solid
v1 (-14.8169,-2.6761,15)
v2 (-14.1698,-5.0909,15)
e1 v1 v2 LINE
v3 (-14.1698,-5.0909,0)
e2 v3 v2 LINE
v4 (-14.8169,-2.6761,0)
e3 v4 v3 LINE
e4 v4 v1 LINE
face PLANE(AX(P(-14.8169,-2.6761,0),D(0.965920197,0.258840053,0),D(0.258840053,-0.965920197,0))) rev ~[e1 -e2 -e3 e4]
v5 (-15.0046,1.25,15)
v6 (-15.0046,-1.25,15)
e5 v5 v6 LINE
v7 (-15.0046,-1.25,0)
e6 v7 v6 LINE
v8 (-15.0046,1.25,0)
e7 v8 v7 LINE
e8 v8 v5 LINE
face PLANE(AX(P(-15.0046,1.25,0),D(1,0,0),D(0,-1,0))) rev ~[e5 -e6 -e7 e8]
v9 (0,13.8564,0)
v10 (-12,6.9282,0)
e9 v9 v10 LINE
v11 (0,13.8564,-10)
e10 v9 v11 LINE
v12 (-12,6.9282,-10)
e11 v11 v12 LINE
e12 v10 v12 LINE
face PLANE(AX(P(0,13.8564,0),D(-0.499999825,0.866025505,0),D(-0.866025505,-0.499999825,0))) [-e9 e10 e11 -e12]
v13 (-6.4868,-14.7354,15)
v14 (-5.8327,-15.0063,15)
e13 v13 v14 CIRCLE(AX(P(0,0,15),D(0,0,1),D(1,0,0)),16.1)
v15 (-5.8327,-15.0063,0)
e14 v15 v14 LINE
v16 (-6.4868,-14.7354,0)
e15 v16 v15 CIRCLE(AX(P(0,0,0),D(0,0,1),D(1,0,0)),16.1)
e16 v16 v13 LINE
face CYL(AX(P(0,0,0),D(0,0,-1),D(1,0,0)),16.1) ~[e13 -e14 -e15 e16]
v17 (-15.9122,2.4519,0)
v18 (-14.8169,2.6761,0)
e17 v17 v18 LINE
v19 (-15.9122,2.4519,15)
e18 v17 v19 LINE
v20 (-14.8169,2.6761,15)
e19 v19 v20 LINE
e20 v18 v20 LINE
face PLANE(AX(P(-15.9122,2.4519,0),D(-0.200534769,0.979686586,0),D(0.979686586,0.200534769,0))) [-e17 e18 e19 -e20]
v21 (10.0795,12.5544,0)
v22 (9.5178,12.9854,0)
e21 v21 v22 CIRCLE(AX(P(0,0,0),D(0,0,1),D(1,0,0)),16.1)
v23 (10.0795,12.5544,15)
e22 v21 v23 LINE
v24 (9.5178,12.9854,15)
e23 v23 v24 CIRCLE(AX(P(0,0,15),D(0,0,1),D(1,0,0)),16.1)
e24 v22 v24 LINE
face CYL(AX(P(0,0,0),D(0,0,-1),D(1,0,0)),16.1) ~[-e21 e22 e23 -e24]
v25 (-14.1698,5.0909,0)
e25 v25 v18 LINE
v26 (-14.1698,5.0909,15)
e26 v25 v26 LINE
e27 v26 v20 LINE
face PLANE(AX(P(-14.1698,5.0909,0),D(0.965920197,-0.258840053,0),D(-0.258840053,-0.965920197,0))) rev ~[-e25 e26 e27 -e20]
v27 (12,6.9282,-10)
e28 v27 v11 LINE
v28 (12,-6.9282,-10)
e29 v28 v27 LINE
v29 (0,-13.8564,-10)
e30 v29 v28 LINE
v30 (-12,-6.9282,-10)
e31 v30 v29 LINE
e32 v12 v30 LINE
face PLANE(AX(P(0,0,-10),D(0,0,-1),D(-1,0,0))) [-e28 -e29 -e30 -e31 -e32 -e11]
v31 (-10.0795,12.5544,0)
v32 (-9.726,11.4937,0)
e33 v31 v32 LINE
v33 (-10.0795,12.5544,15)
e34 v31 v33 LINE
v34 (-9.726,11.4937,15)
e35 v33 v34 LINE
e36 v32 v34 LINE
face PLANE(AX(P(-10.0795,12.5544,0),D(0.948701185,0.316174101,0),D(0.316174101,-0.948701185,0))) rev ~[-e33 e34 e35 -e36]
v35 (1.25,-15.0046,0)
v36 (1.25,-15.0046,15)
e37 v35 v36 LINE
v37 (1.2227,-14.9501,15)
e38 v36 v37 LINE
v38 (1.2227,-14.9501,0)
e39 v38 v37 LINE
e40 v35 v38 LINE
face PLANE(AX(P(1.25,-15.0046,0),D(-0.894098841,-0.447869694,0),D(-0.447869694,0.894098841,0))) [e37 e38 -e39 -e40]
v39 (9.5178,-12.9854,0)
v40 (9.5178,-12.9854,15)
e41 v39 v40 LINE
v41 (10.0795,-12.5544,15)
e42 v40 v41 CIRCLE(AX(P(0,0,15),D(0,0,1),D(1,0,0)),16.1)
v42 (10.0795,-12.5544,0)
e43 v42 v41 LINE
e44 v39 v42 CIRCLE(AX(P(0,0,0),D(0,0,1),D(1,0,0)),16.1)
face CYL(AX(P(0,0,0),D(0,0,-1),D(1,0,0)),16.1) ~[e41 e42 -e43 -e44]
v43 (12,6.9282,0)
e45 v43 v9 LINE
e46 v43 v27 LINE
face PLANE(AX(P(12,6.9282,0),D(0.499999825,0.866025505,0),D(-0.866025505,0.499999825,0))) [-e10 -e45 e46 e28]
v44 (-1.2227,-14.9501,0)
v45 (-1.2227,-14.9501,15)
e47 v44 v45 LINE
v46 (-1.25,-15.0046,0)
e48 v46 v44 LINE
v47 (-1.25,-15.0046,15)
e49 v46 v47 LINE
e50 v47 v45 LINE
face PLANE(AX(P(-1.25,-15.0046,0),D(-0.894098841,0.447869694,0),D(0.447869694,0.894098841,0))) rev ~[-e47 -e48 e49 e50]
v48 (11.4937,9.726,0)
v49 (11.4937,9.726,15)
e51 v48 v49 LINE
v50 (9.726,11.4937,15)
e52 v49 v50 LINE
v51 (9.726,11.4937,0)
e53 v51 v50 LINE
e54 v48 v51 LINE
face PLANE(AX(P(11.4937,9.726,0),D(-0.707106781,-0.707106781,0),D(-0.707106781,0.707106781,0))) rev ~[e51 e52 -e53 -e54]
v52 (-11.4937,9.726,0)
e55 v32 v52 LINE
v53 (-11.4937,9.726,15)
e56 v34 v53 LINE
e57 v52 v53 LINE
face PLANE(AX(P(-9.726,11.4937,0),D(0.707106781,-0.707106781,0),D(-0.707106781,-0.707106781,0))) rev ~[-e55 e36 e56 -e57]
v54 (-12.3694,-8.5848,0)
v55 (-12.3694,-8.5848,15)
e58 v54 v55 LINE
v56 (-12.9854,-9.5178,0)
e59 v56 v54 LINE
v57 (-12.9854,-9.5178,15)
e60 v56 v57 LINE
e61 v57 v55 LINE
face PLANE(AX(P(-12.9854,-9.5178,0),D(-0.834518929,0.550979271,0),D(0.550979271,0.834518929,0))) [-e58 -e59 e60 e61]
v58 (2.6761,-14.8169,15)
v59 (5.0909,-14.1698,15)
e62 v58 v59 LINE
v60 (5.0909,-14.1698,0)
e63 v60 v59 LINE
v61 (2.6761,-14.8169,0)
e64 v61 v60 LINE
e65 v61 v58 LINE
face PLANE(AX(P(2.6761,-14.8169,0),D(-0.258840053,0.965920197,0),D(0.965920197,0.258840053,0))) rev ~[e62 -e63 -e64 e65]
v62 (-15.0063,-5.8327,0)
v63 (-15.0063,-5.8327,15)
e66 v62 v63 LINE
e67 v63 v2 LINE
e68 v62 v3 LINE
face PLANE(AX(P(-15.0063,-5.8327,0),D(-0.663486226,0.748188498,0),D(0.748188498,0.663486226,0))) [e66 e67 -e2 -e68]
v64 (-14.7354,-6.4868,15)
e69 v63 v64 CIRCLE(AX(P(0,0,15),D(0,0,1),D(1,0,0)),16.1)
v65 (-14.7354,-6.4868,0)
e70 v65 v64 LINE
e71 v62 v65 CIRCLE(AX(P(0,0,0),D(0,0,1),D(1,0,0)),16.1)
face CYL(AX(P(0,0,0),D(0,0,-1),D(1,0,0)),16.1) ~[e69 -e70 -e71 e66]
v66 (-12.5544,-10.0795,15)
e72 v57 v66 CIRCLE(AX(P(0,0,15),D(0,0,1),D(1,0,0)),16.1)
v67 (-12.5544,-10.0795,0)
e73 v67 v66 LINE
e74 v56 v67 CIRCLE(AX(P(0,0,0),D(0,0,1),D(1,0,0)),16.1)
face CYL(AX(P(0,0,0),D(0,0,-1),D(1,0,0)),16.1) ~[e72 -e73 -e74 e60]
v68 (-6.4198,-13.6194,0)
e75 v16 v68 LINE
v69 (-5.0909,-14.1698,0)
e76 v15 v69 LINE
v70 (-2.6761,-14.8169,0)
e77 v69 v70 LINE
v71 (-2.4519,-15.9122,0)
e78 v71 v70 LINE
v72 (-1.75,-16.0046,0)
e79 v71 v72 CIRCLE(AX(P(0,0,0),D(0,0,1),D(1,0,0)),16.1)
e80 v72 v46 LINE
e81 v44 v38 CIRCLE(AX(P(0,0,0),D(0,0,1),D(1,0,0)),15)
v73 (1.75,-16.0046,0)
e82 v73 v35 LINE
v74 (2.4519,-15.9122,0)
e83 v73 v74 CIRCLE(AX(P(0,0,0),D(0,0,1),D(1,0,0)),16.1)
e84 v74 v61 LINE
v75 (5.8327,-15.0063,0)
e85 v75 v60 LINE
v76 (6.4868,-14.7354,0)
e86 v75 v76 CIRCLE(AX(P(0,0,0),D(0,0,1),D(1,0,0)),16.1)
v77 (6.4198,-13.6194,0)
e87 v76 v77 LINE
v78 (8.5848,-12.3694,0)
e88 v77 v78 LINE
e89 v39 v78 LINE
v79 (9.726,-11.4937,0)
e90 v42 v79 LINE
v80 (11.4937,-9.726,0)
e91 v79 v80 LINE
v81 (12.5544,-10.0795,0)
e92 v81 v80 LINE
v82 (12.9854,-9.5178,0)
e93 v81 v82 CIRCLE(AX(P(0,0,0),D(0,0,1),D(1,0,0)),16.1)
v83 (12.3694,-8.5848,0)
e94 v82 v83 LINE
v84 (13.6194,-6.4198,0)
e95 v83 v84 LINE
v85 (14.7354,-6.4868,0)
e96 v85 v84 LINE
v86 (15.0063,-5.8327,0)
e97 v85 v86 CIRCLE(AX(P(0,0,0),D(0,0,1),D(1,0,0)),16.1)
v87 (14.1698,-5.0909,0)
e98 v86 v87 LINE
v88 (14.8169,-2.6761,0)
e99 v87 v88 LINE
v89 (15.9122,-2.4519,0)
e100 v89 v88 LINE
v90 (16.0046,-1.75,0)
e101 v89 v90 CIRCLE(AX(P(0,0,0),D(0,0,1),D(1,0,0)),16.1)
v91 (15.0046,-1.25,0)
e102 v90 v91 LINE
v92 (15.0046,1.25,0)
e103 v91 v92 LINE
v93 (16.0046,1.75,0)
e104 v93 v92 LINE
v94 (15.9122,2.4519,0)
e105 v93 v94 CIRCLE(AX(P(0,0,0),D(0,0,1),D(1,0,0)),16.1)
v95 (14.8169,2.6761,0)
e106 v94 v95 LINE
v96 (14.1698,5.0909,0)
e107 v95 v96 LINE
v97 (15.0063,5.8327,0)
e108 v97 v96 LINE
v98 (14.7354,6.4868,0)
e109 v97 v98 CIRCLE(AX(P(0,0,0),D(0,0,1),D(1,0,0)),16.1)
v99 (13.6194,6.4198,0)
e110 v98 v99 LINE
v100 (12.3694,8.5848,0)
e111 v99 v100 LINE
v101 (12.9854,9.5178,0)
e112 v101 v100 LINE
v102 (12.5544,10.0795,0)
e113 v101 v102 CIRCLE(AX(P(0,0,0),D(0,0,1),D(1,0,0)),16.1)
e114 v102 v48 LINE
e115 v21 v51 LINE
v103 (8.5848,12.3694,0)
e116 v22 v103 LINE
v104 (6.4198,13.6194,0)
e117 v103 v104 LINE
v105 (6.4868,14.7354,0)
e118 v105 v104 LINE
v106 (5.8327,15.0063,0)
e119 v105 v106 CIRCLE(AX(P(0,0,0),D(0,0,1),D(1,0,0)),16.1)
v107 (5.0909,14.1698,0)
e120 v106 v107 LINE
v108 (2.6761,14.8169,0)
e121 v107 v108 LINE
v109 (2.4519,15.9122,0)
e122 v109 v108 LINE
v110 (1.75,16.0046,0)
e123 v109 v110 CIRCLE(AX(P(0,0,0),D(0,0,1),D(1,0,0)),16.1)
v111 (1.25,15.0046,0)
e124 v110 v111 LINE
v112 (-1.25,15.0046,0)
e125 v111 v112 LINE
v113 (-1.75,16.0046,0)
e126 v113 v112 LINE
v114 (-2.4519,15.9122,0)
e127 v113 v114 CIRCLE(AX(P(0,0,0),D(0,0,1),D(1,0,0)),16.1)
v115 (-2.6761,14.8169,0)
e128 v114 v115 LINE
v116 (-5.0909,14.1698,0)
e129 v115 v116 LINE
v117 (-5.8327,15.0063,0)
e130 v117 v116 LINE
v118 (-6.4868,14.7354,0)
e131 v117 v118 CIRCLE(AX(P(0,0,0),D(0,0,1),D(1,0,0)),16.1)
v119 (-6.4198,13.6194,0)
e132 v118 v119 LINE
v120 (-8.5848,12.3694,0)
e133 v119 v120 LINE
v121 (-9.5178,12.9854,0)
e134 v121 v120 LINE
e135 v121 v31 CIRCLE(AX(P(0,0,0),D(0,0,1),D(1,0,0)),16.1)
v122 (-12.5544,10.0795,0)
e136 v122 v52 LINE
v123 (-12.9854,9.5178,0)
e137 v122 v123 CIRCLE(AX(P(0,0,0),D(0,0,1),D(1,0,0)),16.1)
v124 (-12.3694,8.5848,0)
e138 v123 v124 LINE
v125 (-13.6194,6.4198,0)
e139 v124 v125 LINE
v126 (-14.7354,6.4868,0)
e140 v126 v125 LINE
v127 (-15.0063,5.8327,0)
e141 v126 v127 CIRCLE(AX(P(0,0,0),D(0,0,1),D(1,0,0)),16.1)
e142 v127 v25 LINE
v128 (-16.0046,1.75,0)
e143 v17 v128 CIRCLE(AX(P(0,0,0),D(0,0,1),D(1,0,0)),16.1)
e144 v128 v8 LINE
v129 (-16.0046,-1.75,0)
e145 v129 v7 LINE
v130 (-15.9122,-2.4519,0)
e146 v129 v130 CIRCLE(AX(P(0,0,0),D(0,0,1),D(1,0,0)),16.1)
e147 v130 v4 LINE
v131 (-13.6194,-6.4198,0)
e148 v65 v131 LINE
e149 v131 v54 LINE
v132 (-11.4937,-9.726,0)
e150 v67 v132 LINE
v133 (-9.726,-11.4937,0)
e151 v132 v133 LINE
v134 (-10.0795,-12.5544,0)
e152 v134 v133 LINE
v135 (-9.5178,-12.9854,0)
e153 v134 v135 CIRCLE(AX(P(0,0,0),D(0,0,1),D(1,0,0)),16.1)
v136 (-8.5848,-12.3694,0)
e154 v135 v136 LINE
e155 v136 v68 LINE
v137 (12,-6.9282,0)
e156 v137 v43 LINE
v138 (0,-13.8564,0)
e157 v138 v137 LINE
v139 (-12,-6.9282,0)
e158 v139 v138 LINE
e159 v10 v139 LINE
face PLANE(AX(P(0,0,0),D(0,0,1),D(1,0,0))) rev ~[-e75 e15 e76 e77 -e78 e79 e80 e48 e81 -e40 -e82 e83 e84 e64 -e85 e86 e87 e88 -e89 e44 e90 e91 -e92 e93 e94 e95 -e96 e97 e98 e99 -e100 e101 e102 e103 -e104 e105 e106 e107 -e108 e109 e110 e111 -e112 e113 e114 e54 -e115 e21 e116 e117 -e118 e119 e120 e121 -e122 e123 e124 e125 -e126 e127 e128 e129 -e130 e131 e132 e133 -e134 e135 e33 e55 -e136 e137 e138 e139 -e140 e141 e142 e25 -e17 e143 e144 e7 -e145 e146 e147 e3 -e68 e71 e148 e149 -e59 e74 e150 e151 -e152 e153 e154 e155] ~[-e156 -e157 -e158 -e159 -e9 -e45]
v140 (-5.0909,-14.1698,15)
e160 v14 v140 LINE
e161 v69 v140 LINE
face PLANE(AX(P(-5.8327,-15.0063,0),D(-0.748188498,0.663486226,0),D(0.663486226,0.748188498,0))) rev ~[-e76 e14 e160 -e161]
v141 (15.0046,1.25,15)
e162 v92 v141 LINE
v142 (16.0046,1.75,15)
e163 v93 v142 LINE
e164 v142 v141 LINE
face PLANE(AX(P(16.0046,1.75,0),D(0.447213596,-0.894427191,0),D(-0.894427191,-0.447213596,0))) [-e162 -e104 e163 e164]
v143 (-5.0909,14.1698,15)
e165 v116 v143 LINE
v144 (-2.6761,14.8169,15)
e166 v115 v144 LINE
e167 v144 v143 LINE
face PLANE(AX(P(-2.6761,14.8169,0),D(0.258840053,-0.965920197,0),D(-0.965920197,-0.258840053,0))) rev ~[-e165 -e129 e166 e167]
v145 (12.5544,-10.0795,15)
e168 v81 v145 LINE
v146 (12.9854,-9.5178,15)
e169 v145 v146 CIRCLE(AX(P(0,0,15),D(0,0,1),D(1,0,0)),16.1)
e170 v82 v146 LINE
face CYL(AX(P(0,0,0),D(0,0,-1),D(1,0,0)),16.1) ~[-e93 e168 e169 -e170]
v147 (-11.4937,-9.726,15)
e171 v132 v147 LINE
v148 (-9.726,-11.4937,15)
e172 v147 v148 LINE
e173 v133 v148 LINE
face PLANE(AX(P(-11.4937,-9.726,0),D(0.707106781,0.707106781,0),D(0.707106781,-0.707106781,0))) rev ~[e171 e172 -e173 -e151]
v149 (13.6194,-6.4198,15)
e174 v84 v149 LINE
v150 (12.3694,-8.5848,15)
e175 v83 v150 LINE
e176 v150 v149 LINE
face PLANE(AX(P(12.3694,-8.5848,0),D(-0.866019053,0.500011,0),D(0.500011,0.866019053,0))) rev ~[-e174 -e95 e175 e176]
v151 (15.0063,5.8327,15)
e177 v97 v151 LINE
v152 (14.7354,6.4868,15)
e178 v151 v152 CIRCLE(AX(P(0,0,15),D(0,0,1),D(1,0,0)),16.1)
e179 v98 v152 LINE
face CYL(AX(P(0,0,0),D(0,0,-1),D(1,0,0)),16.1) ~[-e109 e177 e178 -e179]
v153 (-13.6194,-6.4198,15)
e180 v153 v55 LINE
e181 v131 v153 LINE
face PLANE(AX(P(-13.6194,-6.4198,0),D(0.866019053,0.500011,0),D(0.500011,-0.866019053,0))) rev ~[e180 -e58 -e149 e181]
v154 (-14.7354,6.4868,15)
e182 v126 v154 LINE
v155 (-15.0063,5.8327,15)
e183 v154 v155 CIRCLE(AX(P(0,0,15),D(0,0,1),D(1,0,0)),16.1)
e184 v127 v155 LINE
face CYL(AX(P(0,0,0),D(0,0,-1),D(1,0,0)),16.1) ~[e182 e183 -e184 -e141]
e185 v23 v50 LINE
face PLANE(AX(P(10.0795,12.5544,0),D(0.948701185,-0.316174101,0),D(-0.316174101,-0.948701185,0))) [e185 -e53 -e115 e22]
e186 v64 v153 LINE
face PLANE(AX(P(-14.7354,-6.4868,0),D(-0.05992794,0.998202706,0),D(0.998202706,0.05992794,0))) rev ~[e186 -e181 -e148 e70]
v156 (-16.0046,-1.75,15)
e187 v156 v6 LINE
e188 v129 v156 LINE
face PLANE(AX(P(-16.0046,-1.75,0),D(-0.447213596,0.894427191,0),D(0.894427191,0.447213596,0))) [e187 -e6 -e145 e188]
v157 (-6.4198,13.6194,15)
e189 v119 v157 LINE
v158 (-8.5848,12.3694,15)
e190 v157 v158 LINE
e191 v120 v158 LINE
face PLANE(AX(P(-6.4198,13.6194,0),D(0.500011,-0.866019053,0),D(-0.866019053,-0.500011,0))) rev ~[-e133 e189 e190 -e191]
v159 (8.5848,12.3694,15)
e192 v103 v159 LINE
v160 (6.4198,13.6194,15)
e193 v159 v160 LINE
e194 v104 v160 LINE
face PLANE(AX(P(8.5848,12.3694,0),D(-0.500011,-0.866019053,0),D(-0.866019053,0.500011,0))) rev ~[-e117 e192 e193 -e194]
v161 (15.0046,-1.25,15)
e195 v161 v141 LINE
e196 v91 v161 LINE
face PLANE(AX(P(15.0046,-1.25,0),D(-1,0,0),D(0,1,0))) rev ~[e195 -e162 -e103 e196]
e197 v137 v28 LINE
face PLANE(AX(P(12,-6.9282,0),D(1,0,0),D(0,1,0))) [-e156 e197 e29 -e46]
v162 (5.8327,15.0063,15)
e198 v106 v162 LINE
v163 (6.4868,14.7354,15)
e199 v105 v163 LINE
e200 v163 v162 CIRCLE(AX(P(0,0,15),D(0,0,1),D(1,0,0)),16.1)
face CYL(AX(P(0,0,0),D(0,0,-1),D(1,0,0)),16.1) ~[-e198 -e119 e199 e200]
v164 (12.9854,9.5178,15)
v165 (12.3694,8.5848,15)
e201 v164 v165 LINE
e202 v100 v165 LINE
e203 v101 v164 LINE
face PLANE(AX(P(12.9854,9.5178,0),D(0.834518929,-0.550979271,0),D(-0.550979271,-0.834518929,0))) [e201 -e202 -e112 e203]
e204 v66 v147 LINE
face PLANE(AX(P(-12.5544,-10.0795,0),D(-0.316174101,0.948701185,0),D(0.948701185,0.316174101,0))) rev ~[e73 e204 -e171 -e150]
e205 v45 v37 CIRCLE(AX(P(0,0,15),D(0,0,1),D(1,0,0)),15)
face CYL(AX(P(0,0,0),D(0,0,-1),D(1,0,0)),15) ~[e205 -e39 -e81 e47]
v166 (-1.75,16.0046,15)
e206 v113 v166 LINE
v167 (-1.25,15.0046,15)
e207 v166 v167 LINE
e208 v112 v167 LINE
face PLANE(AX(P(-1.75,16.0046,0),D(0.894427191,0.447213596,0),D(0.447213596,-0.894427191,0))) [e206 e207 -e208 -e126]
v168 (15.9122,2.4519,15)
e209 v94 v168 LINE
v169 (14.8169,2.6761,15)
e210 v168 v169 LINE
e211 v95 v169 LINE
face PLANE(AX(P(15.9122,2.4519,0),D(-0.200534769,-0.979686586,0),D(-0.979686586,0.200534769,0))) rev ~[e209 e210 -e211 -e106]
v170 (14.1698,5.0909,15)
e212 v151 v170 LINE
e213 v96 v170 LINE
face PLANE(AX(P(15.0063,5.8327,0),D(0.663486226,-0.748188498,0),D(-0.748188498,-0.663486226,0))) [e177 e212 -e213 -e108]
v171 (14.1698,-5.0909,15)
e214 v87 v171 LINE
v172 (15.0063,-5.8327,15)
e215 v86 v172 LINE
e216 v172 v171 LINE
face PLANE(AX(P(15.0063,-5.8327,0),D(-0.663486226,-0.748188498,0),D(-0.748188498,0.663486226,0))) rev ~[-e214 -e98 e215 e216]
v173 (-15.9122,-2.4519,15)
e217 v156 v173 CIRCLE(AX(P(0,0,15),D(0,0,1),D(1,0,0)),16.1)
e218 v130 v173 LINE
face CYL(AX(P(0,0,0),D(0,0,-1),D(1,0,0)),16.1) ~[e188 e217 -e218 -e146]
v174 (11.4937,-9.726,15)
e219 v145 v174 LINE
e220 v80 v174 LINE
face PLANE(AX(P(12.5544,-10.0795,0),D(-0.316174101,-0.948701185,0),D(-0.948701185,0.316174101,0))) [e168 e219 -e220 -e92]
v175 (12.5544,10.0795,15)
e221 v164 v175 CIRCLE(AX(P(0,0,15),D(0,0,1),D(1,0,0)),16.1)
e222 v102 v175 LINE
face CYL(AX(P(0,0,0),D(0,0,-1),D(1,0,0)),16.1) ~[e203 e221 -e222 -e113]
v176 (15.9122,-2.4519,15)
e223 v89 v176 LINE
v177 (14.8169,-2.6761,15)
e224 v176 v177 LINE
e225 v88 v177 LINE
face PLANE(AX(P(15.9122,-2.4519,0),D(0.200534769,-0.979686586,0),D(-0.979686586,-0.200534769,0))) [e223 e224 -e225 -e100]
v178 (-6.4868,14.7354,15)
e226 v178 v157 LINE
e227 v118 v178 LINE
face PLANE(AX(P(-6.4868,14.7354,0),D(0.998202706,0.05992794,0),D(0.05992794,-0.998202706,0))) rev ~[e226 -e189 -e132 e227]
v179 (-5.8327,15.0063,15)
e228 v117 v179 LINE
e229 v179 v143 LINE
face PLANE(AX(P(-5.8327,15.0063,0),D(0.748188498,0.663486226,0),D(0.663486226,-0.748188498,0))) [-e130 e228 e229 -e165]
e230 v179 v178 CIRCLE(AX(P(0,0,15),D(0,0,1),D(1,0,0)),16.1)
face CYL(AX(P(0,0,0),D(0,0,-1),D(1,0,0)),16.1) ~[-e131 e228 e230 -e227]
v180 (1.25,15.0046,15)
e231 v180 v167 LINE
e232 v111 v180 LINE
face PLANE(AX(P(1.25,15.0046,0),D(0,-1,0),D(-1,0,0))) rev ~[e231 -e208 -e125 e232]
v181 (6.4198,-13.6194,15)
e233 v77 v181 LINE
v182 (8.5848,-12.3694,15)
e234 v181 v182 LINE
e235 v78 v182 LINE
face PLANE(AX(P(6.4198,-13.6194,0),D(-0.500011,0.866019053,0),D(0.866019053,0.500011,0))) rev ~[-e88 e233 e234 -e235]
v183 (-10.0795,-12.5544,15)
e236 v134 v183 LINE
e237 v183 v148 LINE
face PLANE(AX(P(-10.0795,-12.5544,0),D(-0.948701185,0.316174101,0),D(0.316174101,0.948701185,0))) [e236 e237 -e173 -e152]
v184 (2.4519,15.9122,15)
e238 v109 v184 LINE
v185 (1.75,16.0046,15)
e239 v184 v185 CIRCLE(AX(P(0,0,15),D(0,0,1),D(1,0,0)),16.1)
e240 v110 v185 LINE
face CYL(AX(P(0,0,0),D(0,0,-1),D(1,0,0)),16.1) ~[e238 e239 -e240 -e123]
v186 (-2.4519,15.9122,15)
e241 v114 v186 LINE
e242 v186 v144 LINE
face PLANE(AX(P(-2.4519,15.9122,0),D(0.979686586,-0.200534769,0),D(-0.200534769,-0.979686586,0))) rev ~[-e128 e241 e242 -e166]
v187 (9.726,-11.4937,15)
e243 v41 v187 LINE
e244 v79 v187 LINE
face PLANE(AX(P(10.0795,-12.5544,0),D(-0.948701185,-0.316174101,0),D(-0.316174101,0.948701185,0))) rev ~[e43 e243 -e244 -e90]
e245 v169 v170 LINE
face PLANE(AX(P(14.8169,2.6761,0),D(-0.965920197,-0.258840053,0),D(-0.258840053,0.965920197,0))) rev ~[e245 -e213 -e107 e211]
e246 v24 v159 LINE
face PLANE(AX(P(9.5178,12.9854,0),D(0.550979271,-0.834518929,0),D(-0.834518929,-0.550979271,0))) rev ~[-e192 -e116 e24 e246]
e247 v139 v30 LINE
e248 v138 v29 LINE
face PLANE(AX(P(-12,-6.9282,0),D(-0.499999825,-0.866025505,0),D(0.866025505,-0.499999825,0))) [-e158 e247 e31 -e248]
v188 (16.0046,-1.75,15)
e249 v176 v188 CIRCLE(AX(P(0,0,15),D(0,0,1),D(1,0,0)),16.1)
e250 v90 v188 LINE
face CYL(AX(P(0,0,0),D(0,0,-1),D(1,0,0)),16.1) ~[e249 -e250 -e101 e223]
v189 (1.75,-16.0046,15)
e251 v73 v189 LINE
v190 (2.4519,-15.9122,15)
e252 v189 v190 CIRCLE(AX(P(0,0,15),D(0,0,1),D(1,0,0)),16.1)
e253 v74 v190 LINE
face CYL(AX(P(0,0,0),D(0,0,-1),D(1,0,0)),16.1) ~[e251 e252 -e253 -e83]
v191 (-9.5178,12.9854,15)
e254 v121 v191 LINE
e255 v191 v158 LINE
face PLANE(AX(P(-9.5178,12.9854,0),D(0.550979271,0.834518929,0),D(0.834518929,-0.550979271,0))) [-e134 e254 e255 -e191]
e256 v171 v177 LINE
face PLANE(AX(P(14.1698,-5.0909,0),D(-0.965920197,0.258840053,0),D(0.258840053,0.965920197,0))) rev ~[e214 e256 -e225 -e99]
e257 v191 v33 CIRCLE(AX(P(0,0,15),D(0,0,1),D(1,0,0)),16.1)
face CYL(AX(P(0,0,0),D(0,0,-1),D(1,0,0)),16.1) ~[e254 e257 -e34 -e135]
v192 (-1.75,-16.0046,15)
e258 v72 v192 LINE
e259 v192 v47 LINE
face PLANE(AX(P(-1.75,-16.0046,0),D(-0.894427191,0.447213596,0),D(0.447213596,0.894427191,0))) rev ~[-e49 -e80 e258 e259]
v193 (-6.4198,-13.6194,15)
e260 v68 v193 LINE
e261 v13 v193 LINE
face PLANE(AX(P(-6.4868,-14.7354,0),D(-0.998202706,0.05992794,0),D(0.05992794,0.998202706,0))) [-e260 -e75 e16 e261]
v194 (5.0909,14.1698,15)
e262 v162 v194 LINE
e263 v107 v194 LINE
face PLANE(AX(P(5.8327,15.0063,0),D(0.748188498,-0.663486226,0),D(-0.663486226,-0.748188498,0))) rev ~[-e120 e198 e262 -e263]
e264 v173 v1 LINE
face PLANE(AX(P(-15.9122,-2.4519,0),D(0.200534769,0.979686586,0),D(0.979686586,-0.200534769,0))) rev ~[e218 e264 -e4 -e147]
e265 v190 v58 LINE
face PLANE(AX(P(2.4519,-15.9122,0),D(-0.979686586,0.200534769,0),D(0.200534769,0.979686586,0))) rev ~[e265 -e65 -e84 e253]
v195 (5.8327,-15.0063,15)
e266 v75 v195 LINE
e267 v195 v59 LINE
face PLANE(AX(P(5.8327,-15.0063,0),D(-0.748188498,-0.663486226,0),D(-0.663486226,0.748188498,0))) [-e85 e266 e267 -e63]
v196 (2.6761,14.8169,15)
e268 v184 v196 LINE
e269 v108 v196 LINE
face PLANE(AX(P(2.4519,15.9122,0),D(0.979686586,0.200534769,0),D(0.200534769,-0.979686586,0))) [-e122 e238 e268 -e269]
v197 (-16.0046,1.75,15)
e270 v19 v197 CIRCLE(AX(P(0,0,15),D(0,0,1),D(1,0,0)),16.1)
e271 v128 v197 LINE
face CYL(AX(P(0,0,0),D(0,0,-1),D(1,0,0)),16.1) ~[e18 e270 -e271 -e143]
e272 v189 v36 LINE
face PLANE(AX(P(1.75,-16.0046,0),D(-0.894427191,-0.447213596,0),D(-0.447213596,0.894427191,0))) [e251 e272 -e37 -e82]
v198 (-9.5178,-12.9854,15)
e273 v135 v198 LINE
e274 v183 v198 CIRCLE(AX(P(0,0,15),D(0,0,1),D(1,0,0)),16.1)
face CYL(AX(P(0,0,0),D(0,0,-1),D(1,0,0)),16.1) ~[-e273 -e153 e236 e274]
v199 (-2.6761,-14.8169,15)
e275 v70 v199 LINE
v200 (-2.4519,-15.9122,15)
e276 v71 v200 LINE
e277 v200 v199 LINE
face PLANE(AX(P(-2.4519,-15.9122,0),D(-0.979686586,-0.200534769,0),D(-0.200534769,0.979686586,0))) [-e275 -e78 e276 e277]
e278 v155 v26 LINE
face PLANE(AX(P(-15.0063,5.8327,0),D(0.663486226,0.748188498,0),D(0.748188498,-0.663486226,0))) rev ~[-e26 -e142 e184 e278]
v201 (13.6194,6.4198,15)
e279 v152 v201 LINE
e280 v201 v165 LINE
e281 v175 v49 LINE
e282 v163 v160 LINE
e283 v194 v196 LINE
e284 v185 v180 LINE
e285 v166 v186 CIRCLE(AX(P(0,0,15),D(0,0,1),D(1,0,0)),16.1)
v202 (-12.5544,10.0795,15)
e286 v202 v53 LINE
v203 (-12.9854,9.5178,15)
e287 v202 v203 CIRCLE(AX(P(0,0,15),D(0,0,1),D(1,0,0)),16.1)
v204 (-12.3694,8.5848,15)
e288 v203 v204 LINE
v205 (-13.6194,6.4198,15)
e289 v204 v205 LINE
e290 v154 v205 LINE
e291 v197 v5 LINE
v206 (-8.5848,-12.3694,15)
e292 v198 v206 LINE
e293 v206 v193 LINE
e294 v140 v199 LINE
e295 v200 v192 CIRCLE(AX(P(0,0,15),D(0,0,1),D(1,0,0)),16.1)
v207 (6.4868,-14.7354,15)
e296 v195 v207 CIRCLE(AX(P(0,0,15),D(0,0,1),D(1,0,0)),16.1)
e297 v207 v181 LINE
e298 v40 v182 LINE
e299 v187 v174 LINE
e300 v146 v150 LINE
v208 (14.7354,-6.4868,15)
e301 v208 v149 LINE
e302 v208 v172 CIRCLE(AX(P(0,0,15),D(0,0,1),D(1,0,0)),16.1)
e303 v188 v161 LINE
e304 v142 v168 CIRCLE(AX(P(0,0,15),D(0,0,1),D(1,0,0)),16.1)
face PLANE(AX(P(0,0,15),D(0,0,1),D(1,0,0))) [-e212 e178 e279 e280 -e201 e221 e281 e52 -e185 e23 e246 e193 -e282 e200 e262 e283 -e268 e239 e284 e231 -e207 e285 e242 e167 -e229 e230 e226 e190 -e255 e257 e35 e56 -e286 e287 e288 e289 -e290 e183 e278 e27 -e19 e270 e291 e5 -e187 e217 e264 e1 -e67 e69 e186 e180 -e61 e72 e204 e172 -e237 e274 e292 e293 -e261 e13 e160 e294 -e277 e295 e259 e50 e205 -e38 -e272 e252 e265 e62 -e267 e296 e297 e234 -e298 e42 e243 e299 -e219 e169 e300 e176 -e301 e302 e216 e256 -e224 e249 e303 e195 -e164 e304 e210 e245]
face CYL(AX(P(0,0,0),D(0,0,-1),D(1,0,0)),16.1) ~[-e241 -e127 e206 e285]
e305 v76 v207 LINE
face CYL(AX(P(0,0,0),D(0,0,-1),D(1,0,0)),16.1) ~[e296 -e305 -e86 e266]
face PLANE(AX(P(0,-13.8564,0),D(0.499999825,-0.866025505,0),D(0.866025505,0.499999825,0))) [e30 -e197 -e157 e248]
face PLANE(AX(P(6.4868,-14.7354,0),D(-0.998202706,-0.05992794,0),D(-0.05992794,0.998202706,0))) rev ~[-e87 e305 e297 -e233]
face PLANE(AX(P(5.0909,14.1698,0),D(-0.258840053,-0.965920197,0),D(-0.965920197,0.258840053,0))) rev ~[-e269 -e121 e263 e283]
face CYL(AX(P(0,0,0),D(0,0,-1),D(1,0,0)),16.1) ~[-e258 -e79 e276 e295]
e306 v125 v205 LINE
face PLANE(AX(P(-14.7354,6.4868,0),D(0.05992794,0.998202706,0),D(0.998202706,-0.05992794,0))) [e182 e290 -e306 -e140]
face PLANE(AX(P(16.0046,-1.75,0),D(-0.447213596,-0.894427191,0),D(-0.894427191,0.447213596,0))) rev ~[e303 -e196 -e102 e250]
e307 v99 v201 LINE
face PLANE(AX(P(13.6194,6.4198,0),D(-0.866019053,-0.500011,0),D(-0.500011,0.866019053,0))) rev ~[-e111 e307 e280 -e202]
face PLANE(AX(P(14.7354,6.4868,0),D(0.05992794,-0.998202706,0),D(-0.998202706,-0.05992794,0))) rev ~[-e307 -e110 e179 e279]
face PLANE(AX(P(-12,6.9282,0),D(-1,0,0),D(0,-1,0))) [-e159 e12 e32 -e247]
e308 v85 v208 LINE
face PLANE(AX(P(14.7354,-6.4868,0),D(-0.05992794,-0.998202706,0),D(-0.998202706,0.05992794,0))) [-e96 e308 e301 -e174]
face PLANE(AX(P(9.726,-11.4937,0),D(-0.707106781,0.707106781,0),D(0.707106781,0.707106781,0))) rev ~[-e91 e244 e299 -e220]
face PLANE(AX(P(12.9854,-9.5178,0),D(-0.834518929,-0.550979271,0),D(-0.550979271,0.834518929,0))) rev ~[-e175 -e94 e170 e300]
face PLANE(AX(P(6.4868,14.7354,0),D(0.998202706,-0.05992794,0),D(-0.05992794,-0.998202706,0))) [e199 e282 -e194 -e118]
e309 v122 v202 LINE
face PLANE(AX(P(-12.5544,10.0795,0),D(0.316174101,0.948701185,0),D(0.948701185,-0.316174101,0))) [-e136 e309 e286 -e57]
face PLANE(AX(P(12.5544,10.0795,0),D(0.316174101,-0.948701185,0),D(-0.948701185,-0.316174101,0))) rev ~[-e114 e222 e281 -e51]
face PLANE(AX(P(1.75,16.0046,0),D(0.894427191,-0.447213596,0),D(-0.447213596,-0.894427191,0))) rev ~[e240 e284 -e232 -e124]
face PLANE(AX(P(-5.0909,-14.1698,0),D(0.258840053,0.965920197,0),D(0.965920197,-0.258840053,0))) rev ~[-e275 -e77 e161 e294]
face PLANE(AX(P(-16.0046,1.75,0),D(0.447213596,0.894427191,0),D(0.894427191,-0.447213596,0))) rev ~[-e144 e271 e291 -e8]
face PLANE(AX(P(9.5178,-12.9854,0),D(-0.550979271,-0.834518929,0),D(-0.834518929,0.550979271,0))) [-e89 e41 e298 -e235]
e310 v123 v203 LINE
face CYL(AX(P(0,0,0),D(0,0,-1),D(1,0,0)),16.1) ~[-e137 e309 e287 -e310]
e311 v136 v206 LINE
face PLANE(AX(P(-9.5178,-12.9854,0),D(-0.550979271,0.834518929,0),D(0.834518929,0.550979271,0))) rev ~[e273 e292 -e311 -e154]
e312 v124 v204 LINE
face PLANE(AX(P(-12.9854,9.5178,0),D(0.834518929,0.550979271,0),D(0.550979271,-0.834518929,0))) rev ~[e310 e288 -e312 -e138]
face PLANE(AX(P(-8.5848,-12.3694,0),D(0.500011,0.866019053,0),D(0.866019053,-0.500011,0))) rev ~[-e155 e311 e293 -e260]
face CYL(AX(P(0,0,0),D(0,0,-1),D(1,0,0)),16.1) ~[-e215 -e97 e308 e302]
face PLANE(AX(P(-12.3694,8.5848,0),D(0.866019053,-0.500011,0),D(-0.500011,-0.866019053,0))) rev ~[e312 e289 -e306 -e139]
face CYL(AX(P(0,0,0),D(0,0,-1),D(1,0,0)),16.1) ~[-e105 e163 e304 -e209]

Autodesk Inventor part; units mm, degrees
ref_plane "YZ Plane" through (0, 0, 0) normal (1, 0, 0) x (0, 1, 0)
ref_plane "XZ Plane" through (0, 0, 0) normal (0, 1, 0) x (-1, 0, 0)
ref_plane "XY Plane" through (0, 0, 0) normal (0, 0, 1) x (1, 0, 0)
sketch "Sketch1" plane through (0, 0, 0) normal (0, 0, 1) x (1, 0, 0)
  circle A0 centre (0, 0) radius 17.25
  circle A1 centre (0, 0) radius 16.1
  circle A2 centre (0, 0) radius 15
  line L0 (-1.25, -15.0046) -> (1.25, -15.0046)
  line L1 (-1.75, -16.0046) -> (1.75, -16.0046)
  line L2 (1.75, -16.0046) -> (1.25, -15.0046)
  line L3 (-1.75, -16.0046) -> (-1.25, -15.0046)
  line L4 (-1.25, -15.0046) -> (-1.2227, -14.9501)
  line L5 (1.25, -15.0046) -> (1.2227, -14.9501)
  line L6 (2.6761, -14.8169) -> (5.0909, -14.1698)
  line L7 (2.4519, -15.9122) -> (2.6761, -14.8169)
  line L8 (2.6761, -14.8169) -> (2.6883, -14.7571)
  line L9 (5.8327, -15.0063) -> (5.0909, -14.1698)
  line L10 (5.0909, -14.1698) -> (5.0504, -14.1242)
  line L11 (6.4198, -13.6194) -> (8.5848, -12.3694)
  line L12 (6.4868, -14.7354) -> (6.4198, -13.6194)
  line L13 (6.4198, -13.6194) -> (6.4161, -13.5585)
  line L14 (9.5178, -12.9854) -> (8.5848, -12.3694)
  line L15 (8.5848, -12.3694) -> (8.534, -12.3358)
  line L16 (9.726, -11.4937) -> (11.4937, -9.726)
  line L17 (10.0795, -12.5544) -> (9.726, -11.4937)
  line L18 (9.726, -11.4937) -> (9.7067, -11.4359)
  line L19 (12.5544, -10.0795) -> (11.4937, -9.726)
  line L20 (11.4937, -9.726) -> (11.4359, -9.7067)
  line L21 (12.3694, -8.5848) -> (13.6194, -6.4198)
  line L22 (12.9854, -9.5178) -> (12.3694, -8.5848)
  line L23 (12.3694, -8.5848) -> (12.3358, -8.534)
  line L24 (14.7354, -6.4868) -> (13.6194, -6.4198)
  line L25 (13.6194, -6.4198) -> (13.5585, -6.4161)
  line L26 (14.1698, -5.0909) -> (14.8169, -2.6761)
  line L27 (15.0063, -5.8327) -> (14.1698, -5.0909)
  line L28 (14.1698, -5.0909) -> (14.1242, -5.0504)
  line L29 (15.9122, -2.4519) -> (14.8169, -2.6761)
  line L30 (14.8169, -2.6761) -> (14.7571, -2.6883)
  line L31 (15.0046, -1.25) -> (15.0046, 1.25)
  line L32 (16.0046, -1.75) -> (15.0046, -1.25)
  line L33 (15.0046, -1.25) -> (14.9501, -1.2227)
  line L34 (16.0046, 1.75) -> (15.0046, 1.25)
  line L35 (15.0046, 1.25) -> (14.9501, 1.2227)
  line L36 (14.8169, 2.6761) -> (14.1698, 5.0909)
  line L37 (15.9122, 2.4519) -> (14.8169, 2.6761)
  line L38 (14.8169, 2.6761) -> (14.7571, 2.6883)
  line L39 (15.0063, 5.8327) -> (14.1698, 5.0909)
  line L40 (14.1698, 5.0909) -> (14.1242, 5.0504)
  line L41 (13.6194, 6.4198) -> (12.3694, 8.5848)
  line L42 (14.7354, 6.4868) -> (13.6194, 6.4198)
  line L43 (13.6194, 6.4198) -> (13.5585, 6.4161)
  line L44 (12.9854, 9.5178) -> (12.3694, 8.5848)
  line L45 (12.3694, 8.5848) -> (12.3358, 8.534)
  line L46 (11.4937, 9.726) -> (9.726, 11.4937)
  line L47 (12.5544, 10.0795) -> (11.4937, 9.726)
  line L48 (11.4937, 9.726) -> (11.4359, 9.7067)
  line L49 (10.0795, 12.5544) -> (9.726, 11.4937)
  line L50 (9.726, 11.4937) -> (9.7067, 11.4359)
  line L51 (8.5848, 12.3694) -> (6.4198, 13.6194)
  line L52 (9.5178, 12.9854) -> (8.5848, 12.3694)
  line L53 (8.5848, 12.3694) -> (8.534, 12.3358)
  line L54 (6.4868, 14.7354) -> (6.4198, 13.6194)
  line L55 (6.4198, 13.6194) -> (6.4161, 13.5585)
  line L56 (5.0909, 14.1698) -> (2.6761, 14.8169)
  line L57 (5.8327, 15.0063) -> (5.0909, 14.1698)
  line L58 (5.0909, 14.1698) -> (5.0504, 14.1242)
  line L59 (2.4519, 15.9122) -> (2.6761, 14.8169)
  line L60 (2.6761, 14.8169) -> (2.6883, 14.7571)
  line L61 (1.25, 15.0046) -> (-1.25, 15.0046)
  line L62 (1.75, 16.0046) -> (1.25, 15.0046)
  line L63 (1.25, 15.0046) -> (1.2227, 14.9501)
  line L64 (-1.75, 16.0046) -> (-1.25, 15.0046)
  line L65 (-1.25, 15.0046) -> (-1.2227, 14.9501)
  line L66 (-2.6761, 14.8169) -> (-5.0909, 14.1698)
  line L67 (-2.4519, 15.9122) -> (-2.6761, 14.8169)
  line L68 (-2.6761, 14.8169) -> (-2.6883, 14.7571)
  line L69 (-5.8327, 15.0063) -> (-5.0909, 14.1698)
  line L70 (-5.0909, 14.1698) -> (-5.0504, 14.1242)
  line L71 (-6.4198, 13.6194) -> (-8.5848, 12.3694)
  line L72 (-6.4868, 14.7354) -> (-6.4198, 13.6194)
  line L73 (-6.4198, 13.6194) -> (-6.4161, 13.5585)
  line L74 (-9.5178, 12.9854) -> (-8.5848, 12.3694)
  line L75 (-8.5848, 12.3694) -> (-8.534, 12.3358)
  line L76 (-9.726, 11.4937) -> (-11.4937, 9.726)
  line L77 (-10.0795, 12.5544) -> (-9.726, 11.4937)
  line L78 (-9.726, 11.4937) -> (-9.7067, 11.4359)
  line L79 (-12.5544, 10.0795) -> (-11.4937, 9.726)
  line L80 (-11.4937, 9.726) -> (-11.4359, 9.7067)
  line L81 (-12.3694, 8.5848) -> (-13.6194, 6.4198)
  line L82 (-12.9854, 9.5178) -> (-12.3694, 8.5848)
  line L83 (-12.3694, 8.5848) -> (-12.3358, 8.534)
  line L84 (-14.7354, 6.4868) -> (-13.6194, 6.4198)
  line L85 (-13.6194, 6.4198) -> (-13.5585, 6.4161)
  line L86 (-14.1698, 5.0909) -> (-14.8169, 2.6761)
  line L87 (-15.0063, 5.8327) -> (-14.1698, 5.0909)
  line L88 (-14.1698, 5.0909) -> (-14.1242, 5.0504)
  line L89 (-15.9122, 2.4519) -> (-14.8169, 2.6761)
  line L90 (-14.8169, 2.6761) -> (-14.7571, 2.6883)
  line L91 (-15.0046, 1.25) -> (-15.0046, -1.25)
  line L92 (-16.0046, 1.75) -> (-15.0046, 1.25)
  line L93 (-15.0046, 1.25) -> (-14.9501, 1.2227)
  line L94 (-16.0046, -1.75) -> (-15.0046, -1.25)
  line L95 (-15.0046, -1.25) -> (-14.9501, -1.2227)
  line L96 (-14.8169, -2.6761) -> (-14.1698, -5.0909)
  line L97 (-15.9122, -2.4519) -> (-14.8169, -2.6761)
  line L98 (-14.8169, -2.6761) -> (-14.7571, -2.6883)
  line L99 (-15.0063, -5.8327) -> (-14.1698, -5.0909)
  line L100 (-14.1698, -5.0909) -> (-14.1242, -5.0504)
  line L101 (-13.6194, -6.4198) -> (-12.3694, -8.5848)
  line L102 (-14.7354, -6.4868) -> (-13.6194, -6.4198)
  line L103 (-13.6194, -6.4198) -> (-13.5585, -6.4161)
  line L104 (-12.9854, -9.5178) -> (-12.3694, -8.5848)
  line L105 (-12.3694, -8.5848) -> (-12.3358, -8.534)
  line L106 (-11.4937, -9.726) -> (-9.726, -11.4937)
  line L107 (-12.5544, -10.0795) -> (-11.4937, -9.726)
  line L108 (-11.4937, -9.726) -> (-11.4359, -9.7067)
  line L109 (-10.0795, -12.5544) -> (-9.726, -11.4937)
  line L110 (-9.726, -11.4937) -> (-9.7067, -11.4359)
  line L111 (-8.5848, -12.3694) -> (-6.4198, -13.6194)
  line L112 (-9.5178, -12.9854) -> (-8.5848, -12.3694)
  line L113 (-8.5848, -12.3694) -> (-8.534, -12.3358)
  line L114 (-6.4868, -14.7354) -> (-6.4198, -13.6194)
  line L115 (-6.4198, -13.6194) -> (-6.4161, -13.5585)
  line L116 (-5.0909, -14.1698) -> (-2.6761, -14.8169)
  line L117 (-5.8327, -15.0063) -> (-5.0909, -14.1698)
  line L118 (-5.0909, -14.1698) -> (-5.0504, -14.1242)
  line L119 (-2.4519, -15.9122) -> (-2.6761, -14.8169)
  line L120 (-2.6761, -14.8169) -> (-2.6883, -14.7571)
  point P0 (0, -16.0046)
  point P1 (0, -15.0046)
  point P2 (1.75, -16.0046)
  point P3 (3.8835, -14.4933)
  point P4 (7.5023, -12.9944)
  point P5 (10.6099, -10.6099)
  point P6 (12.9944, -7.5023)
  point P7 (14.4933, -3.8835)
  point P8 (15.0046, 0)
  point P9 (14.4933, 3.8835)
  point P10 (12.9944, 7.5023)
  point P11 (10.6099, 10.6099)
  point P12 (7.5023, 12.9944)
  point P13 (3.8835, 14.4933)
  point P14 (0, 15.0046)
  point P15 (-3.8835, 14.4933)
  point P16 (-7.5023, 12.9944)
  point P17 (-10.6099, 10.6099)
  point P18 (-12.9944, 7.5023)
  point P19 (-14.4933, 3.8835)
  point P20 (-15.0046, 0)
  point P21 (-14.4933, -3.8835)
  point P22 (-12.9944, -7.5023)
  point P23 (-10.6099, -10.6099)
  point P24 (-7.5023, -12.9944)
  point P25 (-3.8835, -14.4933)
  dimension "d1" = 32.2
  dimension "d0" = 34.5
  dimension "d2" = 30
  dimension "d3" = 2.5
  dimension "d4" = 3.5
  dimension "d5" = 1
  dimension "d20" = 360
extrude "Extrusion1" add sketch "Sketch1" along normal blind 15 contours L34 L35 A2 L38 L37 A1 | A1 L29 L30 A2 L33 L32 | L31 L33 A2 L35 | L39 L40 A2 L43 L42 A1 | L38 A2 L40 L36 | A2 | A1 L24 L25 A2 L28 L27 | L26 L28 A2 L30 | L44 L45 A2 L48 L47 A1 | L43 A2 L45 L41 | A1 L19 L20 A2 L23 L22 | L21 L23 A2 L25 | L49 L50 A2 L53 L52 A1 | L48 A2 L50 L46 | A1 L14 L15 A2 L18 L17 | L16 L18 A2 L20 | L54 L55 A2 L58 L57 A1 | L53 A2 L55 L51 | A1 L9 L10 A2 L13 L12 | L11 L13 A2 L15 | L59 L60 A2 L63 L62 A1 | L58 A2 L60 L56 | A1 L2 L5 A2 L8 L7 | L6 L8 A2 L10 | L64 L65 A2 L68 L67 A1 | L63 A2 L65 L61 | A1 L119 L120 A2 L4 L3 | L69 L70 A2 L73 L72 A1 | L68 A2 L70 L66 | A1 L114 L115 A2 L118 L117 | L116 L118 A2 L120 | L74 L75 A2 L78 L77 A1 | L73 A2 L75 L71 | A1 L109 L110 A2 L113 L112 | L111 L113 A2 L115 | L79 L80 A2 L83 L82 A1 | L78 A2 L80 L76 | A1 L104 L105 A2 L108 L107 | L106 L108 A2 L110 | L84 L85 A2 L88 L87 A1 | L83 A2 L85 L81 | A1 L99 L100 A2 L103 L102 | L101 L103 A2 L105 | L89 L90 A2 L93 L92 A1 | L88 A2 L90 L86 | A1 L94 L95 A2 L98 L97 | L96 L98 A2 L100 | L93 A2 L95 L91
sketch "Sketch2" plane through (0, 0, 0) normal (0, 0, -1) x (-1, 0, 0)
  line L0 (12, 6.9282) -> (12, -6.9282)
  line L1 (12, -6.9282) -> (0, -13.8564)
  line L2 (0, -13.8564) -> (-12, -6.9282)
  line L3 (-12, -6.9282) -> (-12, 6.9282)
  line L4 (-12, 6.9282) -> (0, 13.8564)
  line L5 (0, 13.8564) -> (12, 6.9282)
  point P0 (0, 0)
  point P1 (0, 0)
  dimension "d12" = 24
extrude "Extrusion2" add sketch "Sketch2" along normal blind 10
sketch "Sketch3" plane through (0, 0, -10) normal (0, 0, -1) x (-1, 0, 0)
  circle A0 centre (0, 0) radius 7.5
  dimension "d15" = 15
extrude "Extrusion3" [suppressed]
sketch "Sketch4" plane through (0, 0, 0) normal (1, 0, 0) x (0, 1, 0)
  line L0 (20.8545, -11.8216) -> (-20.3089, -11.8216)
  line L1 (-20.3089, -11.8216) -> (-20.3089, 5.7592)
  line L2 (-20.3089, 5.7592) -> (20.8545, 5.7592)
  line L3 (20.8545, 5.7592) -> (20.8545, -11.8216)
  point P0 (0, 0)
extrude "Extrusion4" [suppressed]
properties part number "Nastavek Maillard Freewheel Tool"
